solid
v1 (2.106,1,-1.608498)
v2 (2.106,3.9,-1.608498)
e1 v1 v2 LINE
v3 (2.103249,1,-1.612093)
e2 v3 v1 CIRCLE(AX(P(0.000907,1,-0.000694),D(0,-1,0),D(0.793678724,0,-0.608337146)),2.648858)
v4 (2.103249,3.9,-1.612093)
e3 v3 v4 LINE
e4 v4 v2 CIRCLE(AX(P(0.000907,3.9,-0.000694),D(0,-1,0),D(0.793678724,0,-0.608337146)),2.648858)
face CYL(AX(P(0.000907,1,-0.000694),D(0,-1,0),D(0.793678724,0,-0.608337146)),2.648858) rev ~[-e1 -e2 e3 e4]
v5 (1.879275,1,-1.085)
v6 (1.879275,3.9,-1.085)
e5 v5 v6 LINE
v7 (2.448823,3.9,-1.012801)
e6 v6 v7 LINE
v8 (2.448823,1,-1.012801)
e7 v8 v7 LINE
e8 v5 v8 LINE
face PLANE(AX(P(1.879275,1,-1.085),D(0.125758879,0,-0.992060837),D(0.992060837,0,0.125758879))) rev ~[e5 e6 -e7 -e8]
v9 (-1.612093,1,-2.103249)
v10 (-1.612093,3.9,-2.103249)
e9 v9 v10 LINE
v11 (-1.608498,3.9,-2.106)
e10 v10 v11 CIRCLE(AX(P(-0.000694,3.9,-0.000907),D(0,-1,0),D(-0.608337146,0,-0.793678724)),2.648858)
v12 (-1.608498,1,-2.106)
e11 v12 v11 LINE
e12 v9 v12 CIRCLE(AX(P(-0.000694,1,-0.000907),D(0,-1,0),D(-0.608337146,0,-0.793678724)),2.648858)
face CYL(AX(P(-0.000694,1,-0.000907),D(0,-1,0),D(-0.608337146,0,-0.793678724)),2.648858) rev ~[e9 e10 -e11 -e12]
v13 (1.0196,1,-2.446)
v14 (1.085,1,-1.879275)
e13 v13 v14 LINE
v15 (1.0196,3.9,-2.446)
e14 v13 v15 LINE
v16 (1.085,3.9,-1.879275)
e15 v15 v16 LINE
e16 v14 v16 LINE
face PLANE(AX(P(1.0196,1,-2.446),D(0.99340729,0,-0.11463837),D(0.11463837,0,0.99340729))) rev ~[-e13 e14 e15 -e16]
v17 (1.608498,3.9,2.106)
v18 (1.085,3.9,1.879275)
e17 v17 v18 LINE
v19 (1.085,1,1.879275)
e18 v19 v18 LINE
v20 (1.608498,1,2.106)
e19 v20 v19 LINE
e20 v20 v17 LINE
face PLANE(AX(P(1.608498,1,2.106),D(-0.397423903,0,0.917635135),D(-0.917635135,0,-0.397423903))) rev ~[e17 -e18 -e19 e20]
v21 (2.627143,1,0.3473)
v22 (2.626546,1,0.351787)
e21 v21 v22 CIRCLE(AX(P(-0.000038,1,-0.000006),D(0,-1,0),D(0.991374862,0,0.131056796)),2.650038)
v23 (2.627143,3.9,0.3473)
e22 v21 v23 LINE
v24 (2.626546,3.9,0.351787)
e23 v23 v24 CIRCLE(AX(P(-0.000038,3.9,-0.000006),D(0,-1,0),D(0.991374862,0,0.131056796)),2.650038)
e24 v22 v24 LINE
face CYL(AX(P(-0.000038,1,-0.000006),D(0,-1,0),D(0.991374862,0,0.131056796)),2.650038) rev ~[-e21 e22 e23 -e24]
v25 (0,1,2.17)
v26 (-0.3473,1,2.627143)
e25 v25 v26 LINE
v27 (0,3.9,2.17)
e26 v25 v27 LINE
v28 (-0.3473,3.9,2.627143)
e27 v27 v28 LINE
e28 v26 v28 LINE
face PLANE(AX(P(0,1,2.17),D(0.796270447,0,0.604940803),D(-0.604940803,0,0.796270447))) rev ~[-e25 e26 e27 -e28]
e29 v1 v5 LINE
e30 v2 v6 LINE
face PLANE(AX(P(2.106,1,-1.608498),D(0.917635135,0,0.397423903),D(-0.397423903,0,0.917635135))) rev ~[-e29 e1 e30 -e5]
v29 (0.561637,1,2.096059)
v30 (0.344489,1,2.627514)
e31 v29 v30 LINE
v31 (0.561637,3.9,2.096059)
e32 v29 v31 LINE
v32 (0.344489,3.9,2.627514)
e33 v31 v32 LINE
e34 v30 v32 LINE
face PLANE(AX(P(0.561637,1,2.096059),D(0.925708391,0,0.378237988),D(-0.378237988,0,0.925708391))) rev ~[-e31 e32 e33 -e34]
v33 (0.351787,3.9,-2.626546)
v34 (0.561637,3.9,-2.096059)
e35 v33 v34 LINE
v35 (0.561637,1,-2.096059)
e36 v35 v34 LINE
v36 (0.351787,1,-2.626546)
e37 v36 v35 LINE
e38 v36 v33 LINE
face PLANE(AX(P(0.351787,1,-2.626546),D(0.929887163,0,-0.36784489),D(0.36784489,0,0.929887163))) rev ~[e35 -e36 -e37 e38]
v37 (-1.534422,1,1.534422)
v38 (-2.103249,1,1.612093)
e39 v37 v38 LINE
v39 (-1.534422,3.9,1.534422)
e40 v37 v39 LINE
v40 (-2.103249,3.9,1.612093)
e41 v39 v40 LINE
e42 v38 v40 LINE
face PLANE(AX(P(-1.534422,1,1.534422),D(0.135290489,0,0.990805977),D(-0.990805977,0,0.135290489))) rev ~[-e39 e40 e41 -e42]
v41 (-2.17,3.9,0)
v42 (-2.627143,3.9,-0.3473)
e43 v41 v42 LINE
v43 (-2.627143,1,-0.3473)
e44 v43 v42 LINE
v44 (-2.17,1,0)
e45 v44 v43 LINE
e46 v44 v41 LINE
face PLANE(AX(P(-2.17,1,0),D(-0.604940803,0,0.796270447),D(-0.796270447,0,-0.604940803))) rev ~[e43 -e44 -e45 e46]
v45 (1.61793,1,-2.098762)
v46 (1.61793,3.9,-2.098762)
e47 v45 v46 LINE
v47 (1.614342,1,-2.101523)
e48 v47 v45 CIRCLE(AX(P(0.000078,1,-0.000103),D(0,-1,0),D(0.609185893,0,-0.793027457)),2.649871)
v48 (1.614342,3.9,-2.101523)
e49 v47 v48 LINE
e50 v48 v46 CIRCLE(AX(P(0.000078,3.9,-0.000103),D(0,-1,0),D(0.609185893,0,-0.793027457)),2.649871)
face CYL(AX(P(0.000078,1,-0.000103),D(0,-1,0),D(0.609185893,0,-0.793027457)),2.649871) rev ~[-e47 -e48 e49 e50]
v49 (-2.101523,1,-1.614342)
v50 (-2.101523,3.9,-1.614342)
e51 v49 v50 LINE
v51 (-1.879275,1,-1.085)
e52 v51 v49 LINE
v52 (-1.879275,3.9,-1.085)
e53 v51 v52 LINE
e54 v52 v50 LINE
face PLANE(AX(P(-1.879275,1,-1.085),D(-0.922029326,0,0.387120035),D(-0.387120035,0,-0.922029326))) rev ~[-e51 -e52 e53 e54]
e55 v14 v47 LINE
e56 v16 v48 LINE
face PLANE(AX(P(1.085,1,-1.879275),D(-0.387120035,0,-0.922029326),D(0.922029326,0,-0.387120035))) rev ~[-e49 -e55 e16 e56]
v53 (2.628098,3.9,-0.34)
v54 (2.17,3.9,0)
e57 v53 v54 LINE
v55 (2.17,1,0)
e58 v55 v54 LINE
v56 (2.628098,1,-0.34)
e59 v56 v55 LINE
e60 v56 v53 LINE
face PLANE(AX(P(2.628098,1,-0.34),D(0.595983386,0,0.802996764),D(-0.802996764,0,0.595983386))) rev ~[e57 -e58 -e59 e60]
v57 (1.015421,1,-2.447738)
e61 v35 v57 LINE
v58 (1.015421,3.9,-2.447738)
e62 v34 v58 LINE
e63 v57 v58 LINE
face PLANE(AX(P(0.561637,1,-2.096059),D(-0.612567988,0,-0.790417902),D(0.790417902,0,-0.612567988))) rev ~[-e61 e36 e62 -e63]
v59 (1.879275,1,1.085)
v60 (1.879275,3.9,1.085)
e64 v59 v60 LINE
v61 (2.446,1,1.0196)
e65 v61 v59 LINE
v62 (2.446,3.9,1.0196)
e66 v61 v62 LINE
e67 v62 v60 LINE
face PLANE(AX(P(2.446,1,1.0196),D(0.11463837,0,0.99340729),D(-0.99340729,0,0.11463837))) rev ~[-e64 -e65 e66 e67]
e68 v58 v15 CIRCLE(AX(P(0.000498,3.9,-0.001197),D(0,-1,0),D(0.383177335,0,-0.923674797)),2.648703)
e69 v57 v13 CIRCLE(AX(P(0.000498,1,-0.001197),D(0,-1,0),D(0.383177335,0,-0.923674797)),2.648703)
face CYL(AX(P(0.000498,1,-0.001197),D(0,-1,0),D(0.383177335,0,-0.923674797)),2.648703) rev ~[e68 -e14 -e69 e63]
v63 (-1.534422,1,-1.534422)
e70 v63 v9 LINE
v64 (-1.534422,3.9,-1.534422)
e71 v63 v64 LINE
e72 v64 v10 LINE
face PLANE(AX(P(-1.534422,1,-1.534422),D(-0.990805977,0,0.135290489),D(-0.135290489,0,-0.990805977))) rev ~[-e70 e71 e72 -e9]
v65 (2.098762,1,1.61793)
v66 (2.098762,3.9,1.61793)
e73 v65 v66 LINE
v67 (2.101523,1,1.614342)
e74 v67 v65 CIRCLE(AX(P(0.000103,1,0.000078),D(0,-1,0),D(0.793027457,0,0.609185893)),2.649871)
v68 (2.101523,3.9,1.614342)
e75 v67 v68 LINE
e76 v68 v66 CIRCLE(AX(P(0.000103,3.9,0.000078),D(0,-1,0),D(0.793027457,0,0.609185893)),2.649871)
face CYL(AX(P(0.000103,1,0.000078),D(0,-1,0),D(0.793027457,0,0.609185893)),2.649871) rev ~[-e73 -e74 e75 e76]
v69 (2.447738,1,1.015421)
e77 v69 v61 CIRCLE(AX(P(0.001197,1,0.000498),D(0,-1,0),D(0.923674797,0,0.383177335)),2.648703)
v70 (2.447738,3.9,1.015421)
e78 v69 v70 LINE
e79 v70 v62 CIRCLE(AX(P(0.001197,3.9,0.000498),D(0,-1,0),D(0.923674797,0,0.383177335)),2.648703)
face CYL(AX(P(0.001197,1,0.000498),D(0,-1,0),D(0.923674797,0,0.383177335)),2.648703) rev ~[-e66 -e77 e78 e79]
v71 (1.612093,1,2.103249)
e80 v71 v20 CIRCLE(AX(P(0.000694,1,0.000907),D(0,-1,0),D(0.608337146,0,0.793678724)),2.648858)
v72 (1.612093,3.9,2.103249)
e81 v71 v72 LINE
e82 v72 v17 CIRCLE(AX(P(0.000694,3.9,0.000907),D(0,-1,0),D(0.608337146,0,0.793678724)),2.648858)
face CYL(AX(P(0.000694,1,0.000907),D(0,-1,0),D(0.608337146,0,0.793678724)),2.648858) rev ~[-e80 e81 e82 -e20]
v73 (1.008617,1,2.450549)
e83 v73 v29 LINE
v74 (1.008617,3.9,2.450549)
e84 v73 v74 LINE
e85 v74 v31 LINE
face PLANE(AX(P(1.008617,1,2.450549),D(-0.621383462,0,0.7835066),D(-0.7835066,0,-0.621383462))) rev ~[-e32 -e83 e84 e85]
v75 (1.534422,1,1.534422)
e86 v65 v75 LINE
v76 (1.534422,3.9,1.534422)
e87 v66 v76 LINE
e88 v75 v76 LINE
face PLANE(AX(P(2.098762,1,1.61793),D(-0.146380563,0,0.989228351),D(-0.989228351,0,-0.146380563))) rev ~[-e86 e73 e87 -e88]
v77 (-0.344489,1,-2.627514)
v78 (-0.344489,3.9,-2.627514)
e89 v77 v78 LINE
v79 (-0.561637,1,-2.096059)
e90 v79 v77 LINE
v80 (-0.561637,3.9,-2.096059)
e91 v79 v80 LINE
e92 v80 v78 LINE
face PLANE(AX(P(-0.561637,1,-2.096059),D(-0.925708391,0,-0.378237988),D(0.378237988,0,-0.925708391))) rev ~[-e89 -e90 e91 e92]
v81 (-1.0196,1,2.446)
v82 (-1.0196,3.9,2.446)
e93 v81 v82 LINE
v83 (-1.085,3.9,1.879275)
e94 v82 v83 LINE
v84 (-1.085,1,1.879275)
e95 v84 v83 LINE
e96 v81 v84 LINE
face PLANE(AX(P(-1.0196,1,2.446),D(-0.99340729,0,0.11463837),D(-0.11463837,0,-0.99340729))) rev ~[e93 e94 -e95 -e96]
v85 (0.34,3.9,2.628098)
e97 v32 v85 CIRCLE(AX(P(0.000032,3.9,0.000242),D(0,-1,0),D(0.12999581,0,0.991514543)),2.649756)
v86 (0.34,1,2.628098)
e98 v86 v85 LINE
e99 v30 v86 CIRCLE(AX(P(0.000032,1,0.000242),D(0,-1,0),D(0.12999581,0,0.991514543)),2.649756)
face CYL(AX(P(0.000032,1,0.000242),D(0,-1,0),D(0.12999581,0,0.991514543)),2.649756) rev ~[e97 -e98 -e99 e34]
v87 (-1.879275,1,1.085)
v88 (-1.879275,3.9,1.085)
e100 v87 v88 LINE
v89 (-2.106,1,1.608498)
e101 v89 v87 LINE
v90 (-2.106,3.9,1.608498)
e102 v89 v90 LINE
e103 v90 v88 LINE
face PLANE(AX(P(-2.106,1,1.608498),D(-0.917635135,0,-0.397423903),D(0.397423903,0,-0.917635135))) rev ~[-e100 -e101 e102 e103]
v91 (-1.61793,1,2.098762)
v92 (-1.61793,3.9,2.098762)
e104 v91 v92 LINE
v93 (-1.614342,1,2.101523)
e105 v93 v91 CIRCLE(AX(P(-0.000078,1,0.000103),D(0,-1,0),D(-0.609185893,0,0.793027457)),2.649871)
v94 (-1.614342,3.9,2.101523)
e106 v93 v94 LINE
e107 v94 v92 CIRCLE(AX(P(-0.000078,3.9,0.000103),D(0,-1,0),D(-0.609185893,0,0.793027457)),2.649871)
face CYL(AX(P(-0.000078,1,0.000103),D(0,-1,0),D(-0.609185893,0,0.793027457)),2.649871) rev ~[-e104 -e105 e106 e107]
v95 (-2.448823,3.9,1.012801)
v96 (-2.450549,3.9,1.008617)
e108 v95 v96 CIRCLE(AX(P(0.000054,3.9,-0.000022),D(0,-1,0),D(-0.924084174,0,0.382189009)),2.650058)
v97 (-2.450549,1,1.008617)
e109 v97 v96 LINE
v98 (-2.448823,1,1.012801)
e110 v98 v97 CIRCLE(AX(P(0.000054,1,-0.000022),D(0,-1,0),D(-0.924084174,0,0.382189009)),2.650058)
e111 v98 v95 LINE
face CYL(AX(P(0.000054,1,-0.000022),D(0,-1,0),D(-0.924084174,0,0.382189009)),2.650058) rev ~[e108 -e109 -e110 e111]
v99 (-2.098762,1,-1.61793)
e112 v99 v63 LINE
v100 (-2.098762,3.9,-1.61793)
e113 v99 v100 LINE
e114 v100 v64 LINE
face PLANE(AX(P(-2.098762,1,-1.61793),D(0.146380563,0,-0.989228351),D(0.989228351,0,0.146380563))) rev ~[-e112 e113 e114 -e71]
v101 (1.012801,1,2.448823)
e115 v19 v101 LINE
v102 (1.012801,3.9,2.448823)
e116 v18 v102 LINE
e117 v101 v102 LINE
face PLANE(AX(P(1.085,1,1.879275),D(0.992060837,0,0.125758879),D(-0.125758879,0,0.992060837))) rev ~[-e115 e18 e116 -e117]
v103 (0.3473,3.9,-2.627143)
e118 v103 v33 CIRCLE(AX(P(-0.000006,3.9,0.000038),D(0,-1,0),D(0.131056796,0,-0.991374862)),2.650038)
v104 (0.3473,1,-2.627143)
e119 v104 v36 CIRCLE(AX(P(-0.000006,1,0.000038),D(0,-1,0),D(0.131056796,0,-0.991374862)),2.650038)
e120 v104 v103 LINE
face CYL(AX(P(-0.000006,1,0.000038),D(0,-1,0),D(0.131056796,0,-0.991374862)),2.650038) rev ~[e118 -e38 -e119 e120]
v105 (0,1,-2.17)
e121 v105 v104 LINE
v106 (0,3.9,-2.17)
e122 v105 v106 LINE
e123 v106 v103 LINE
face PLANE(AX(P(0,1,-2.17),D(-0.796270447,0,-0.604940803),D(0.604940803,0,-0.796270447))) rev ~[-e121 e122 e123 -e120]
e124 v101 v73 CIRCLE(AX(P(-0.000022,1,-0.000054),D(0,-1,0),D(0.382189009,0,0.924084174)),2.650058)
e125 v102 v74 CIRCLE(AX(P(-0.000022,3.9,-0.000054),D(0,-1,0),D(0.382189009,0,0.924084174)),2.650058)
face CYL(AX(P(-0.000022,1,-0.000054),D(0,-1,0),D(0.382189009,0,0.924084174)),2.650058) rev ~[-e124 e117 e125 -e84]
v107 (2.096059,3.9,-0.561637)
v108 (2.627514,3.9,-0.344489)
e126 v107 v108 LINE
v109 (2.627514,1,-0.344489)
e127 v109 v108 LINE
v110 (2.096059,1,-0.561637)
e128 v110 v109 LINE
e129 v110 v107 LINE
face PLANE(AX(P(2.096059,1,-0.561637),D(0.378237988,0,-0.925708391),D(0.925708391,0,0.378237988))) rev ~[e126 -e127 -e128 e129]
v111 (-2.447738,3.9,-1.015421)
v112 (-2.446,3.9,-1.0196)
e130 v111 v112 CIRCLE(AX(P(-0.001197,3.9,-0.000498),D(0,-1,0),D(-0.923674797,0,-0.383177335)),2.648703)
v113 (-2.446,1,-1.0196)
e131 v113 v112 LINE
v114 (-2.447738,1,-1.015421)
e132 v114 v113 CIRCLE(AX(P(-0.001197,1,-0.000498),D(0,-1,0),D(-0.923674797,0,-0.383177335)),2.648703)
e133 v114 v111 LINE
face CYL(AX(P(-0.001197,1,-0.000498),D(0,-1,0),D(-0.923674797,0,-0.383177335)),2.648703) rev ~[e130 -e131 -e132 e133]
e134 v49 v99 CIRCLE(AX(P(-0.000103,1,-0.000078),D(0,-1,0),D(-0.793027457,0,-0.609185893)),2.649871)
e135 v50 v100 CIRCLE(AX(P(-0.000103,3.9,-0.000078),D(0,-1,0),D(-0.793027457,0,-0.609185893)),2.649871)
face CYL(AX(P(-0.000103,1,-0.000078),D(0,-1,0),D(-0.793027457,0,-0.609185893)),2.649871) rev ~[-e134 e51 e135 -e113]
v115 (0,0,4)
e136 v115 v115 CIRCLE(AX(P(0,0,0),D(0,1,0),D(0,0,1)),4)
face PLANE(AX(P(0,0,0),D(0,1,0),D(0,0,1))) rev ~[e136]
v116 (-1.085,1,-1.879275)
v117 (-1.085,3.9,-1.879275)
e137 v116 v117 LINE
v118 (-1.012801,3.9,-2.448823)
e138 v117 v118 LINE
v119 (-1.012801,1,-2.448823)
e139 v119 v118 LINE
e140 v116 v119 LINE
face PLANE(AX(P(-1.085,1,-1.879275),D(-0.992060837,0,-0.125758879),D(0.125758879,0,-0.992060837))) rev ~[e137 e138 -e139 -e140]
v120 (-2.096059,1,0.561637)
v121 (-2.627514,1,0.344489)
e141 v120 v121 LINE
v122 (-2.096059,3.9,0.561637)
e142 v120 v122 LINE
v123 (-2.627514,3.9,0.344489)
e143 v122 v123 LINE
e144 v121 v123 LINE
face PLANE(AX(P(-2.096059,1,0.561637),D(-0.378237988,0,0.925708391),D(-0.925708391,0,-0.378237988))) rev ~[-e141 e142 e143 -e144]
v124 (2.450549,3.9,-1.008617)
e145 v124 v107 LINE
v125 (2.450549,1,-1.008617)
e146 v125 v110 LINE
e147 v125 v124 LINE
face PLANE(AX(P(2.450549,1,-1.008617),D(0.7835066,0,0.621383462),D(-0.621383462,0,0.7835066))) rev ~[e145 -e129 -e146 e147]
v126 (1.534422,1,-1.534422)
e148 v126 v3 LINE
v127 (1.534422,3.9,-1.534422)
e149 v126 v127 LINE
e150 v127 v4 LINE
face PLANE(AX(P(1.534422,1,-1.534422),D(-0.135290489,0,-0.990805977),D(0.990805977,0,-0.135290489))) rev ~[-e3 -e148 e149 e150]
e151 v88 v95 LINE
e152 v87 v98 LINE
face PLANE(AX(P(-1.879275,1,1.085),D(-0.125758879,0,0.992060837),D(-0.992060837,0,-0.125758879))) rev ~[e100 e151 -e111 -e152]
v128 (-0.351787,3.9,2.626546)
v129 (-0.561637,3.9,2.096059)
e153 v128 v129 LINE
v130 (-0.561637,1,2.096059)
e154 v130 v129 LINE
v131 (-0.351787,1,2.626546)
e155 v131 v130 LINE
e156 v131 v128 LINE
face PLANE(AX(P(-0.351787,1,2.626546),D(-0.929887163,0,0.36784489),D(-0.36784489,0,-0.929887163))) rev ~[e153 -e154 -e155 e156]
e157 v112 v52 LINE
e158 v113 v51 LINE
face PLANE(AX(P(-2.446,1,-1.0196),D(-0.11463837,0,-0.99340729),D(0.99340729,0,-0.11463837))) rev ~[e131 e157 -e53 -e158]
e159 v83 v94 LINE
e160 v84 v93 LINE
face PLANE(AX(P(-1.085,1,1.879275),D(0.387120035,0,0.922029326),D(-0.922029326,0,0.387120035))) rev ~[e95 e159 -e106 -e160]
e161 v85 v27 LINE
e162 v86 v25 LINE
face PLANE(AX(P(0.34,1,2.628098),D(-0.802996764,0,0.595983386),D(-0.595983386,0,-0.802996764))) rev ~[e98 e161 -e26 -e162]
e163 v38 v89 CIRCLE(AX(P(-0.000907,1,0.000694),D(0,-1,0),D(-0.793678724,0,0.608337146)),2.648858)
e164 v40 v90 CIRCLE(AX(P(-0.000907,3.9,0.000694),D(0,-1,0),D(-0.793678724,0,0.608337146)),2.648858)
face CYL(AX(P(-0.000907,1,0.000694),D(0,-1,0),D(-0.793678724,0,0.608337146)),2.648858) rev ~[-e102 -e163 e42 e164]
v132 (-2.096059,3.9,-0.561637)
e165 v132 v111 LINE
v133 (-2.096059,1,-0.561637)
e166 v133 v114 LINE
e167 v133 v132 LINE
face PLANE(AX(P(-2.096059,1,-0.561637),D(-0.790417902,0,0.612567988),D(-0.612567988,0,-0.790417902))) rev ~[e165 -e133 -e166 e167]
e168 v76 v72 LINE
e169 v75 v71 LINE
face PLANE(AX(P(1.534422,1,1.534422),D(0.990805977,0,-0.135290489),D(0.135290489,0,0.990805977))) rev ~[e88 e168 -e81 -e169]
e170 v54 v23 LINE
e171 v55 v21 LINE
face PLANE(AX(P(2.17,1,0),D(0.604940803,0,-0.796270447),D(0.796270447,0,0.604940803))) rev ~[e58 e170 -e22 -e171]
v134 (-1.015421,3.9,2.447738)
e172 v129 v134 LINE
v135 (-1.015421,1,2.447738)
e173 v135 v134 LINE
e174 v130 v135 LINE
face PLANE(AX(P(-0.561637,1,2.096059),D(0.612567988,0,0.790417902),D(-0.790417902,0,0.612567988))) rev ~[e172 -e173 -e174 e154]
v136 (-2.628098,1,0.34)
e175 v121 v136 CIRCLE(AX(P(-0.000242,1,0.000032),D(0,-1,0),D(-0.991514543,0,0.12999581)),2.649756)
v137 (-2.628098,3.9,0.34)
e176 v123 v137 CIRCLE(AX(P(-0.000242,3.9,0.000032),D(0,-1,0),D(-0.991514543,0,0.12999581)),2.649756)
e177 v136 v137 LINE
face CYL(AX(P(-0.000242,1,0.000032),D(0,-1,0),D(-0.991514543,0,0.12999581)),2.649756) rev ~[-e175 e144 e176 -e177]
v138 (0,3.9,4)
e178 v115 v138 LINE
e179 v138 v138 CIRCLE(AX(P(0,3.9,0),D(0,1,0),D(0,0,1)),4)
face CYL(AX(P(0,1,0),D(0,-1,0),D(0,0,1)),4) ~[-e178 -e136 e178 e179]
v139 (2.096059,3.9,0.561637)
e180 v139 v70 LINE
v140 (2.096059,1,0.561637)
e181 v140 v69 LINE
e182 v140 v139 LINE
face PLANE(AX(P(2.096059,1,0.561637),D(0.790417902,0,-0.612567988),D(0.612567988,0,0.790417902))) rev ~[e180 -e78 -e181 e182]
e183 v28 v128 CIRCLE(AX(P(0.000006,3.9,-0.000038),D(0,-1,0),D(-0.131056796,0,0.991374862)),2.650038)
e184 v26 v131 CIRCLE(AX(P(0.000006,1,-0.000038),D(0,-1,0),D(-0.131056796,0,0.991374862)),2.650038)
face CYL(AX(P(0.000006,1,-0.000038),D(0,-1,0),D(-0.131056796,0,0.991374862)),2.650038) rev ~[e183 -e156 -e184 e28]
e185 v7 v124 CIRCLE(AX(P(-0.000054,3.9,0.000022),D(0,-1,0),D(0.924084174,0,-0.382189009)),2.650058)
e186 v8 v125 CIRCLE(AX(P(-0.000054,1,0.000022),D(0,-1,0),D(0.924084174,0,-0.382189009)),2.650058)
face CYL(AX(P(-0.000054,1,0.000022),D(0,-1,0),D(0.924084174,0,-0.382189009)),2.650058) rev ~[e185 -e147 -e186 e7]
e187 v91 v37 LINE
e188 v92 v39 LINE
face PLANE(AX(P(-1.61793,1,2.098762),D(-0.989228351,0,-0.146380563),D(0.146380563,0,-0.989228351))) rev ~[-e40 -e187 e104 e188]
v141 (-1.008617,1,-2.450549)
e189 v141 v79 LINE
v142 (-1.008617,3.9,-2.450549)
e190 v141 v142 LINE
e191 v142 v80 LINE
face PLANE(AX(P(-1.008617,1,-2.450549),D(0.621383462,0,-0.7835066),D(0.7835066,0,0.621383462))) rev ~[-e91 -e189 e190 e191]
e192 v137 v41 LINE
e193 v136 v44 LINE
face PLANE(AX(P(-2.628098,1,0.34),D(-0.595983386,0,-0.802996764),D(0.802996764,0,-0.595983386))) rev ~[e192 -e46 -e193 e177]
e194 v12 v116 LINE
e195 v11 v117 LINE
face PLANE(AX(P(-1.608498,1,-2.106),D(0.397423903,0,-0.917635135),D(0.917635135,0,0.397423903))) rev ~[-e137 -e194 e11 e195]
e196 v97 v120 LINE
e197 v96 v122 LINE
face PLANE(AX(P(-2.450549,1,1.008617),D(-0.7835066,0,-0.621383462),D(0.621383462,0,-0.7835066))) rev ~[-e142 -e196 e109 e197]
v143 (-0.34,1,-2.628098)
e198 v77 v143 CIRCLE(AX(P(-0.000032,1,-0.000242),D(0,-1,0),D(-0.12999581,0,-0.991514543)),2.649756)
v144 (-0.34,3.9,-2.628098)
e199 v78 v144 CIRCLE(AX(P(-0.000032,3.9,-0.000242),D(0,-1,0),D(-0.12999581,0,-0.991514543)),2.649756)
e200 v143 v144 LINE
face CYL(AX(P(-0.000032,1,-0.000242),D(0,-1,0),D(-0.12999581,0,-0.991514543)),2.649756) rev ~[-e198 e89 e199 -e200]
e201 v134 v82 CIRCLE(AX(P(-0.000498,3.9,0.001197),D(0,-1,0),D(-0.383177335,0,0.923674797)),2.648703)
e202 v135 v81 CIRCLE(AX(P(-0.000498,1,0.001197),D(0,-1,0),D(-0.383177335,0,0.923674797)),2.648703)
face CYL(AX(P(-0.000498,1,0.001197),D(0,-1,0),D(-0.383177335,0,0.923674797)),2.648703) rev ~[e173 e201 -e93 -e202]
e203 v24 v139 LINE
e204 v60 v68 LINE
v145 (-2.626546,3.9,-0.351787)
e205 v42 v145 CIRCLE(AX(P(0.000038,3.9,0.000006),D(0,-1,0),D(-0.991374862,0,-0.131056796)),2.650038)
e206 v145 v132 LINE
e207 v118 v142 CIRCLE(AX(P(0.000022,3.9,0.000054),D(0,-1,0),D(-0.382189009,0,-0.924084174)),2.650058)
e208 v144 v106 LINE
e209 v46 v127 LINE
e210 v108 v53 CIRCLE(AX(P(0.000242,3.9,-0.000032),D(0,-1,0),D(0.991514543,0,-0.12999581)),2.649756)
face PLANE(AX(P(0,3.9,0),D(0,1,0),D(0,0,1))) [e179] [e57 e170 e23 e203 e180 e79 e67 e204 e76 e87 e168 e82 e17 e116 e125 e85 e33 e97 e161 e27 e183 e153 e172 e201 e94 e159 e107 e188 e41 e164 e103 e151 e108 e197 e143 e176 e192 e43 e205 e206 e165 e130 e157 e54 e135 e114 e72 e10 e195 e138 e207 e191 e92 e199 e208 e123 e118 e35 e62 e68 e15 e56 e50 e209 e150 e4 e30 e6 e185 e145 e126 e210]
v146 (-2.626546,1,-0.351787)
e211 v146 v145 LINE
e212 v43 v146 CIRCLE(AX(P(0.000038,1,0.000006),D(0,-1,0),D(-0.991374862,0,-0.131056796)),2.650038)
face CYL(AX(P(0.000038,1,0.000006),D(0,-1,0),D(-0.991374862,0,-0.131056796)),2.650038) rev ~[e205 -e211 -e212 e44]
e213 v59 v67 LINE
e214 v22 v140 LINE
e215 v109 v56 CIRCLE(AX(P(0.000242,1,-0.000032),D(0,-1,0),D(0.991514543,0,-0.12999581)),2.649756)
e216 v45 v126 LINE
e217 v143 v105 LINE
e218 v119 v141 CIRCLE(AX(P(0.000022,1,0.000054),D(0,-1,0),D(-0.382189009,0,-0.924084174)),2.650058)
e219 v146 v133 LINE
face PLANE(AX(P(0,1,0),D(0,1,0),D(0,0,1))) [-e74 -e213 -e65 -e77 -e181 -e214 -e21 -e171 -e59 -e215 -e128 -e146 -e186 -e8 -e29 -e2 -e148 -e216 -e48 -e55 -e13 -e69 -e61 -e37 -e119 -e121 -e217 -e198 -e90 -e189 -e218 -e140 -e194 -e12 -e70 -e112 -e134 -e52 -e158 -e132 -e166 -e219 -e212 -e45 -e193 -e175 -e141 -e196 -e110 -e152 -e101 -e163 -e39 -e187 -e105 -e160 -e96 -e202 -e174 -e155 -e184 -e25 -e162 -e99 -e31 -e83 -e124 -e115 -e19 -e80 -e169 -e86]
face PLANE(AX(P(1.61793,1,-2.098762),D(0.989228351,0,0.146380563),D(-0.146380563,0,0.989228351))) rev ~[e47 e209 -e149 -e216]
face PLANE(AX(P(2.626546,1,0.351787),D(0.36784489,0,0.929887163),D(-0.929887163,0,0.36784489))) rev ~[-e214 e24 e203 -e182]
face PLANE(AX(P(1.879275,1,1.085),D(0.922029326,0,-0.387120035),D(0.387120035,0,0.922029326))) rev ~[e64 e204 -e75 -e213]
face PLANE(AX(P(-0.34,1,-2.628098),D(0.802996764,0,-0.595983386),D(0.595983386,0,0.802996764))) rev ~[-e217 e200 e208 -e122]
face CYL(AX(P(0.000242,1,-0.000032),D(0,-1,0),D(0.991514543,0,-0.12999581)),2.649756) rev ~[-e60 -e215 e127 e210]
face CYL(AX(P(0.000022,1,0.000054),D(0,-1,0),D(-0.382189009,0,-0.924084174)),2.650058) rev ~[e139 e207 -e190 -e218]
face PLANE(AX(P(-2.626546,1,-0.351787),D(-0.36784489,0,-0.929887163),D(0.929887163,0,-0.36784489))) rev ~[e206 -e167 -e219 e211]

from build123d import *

# Parameters (mm, degrees)
SKETCH1_R           = 4
BOSS_EXTRUDE7_DEPTH = 1
BOSS_EXTRUDE8_START = 1
SKETCH1_4_R         = 4
BOSS_EXTRUDE8_DEPTH = 2.9


with BuildPart() as part:
    # Sketch1 → Boss-Extrude7 (new body)
    with BuildSketch(Plane(origin=(0, 0, 0), x_dir=(1, 0, 0), z_dir=(0, 1, 0))):
        with Locations(Location((0, 0, 0), (0, 0, 270))):
            Circle(SKETCH1_R)
    extrude(amount=BOSS_EXTRUDE7_DEPTH)

    # Sketch1<4> → Boss-Extrude8 (add)
    with BuildSketch(Plane(origin=(0, 0, 0), x_dir=(1, 0, 0), z_dir=(0, 1, 0)).offset(BOSS_EXTRUDE8_START)):
        with Locations(Location((0, 0, 0), (0, 0, 270))):
            Circle(SKETCH1_4_R)
        with BuildLine():
            Line((-0.34, 2.628098172), (0, 2.17))
            Line((0, 2.17), (0.3473, 2.627143451))
            ThreePointArc((0.3473, 2.627143451), (0.349543667, 2.62684587), (0.351787078, 2.626546373))
            Line((0.351787078, 2.626546373), (0.561637328, 2.096059043))
            Line((0.561637328, 2.096059043), (1.015420799, 2.447737854))
            ThreePointArc((1.015420799, 2.447737854), (1.017510995, 2.44686971), (1.019600449, 2.44599978))
            Line((1.019600449, 2.44599978), (1.085, 1.879275126))
            Line((1.085, 1.879275126), (1.614342348, 2.101522968))
            ThreePointArc((1.614342348, 2.101522968), (1.61613663, 2.100143422), (1.617929733, 2.098762344))
            Line((1.617929733, 2.098762344), (1.534421715, 1.534421715))
            Line((1.534421715, 1.534421715), (2.103249134, 1.612092764))
            ThreePointArc((2.103249134, 1.612092764), (2.104625225, 1.610295831), (2.10599978, 1.608497723))
            Line((2.10599978, 1.608497723), (1.879275126, 1.085))
            Line((1.879275126, 1.085), (2.448822968, 1.012801103))
            ThreePointArc((2.448822968, 1.012801103), (2.449687089, 1.01070924), (2.450549423, 1.00861664))
            Line((2.450549423, 1.00861664), (2.096059043, 0.561637328))
            Line((2.096059043, 0.561637328), (2.627513563, 0.34448872))
            ThreePointArc((2.627513563, 0.34448872), (2.627806826, 0.342244485), (2.628098172, 0.34))
            Line((2.628098172, 0.34), (2.17, 0))
            Line((2.17, 0), (2.627143451, -0.3473))
            ThreePointArc((2.627143451, -0.3473), (2.62684587, -0.349543667), (2.626546373, -0.351787078))
            Line((2.626546373, -0.351787078), (2.096059043, -0.561637328))
            Line((2.096059043, -0.561637328), (2.447737854, -1.015420799))
            ThreePointArc((2.447737854, -1.015420799), (2.44686971, -1.017510995), (2.44599978, -1.019600449))
            Line((2.44599978, -1.019600449), (1.879275126, -1.085))
            Line((1.879275126, -1.085), (2.101522968, -1.614342348))
            ThreePointArc((2.101522968, -1.614342348), (2.100143422, -1.61613663), (2.098762344, -1.617929733))
            Line((2.098762344, -1.617929733), (1.534421715, -1.534421715))
            Line((1.534421715, -1.534421715), (1.612092764, -2.103249134))
            ThreePointArc((1.612092764, -2.103249134), (1.610295831, -2.104625225), (1.608497723, -2.10599978))
            Line((1.608497723, -2.10599978), (1.085, -1.879275126))
            Line((1.085, -1.879275126), (1.012801103, -2.448822968))
            ThreePointArc((1.012801103, -2.448822968), (1.01070924, -2.449687089), (1.00861664, -2.450549423))
            Line((1.00861664, -2.450549423), (0.561637328, -2.096059043))
            Line((0.561637328, -2.096059043), (0.34448872, -2.627513563))
            ThreePointArc((0.34448872, -2.627513563), (0.342244485, -2.627806826), (0.34, -2.628098172))
            Line((0.34, -2.628098172), (0, -2.17))
            Line((0, -2.17), (-0.3473, -2.627143451))
            ThreePointArc((-0.3473, -2.627143451), (-0.349543667, -2.62684587), (-0.351787078, -2.626546373))
            Line((-0.351787078, -2.626546373), (-0.561637328, -2.096059043))
            Line((-0.561637328, -2.096059043), (-1.015420799, -2.447737854))
            ThreePointArc((-1.015420799, -2.447737854), (-1.017510995, -2.44686971), (-1.019600449, -2.44599978))
            Line((-1.019600449, -2.44599978), (-1.085, -1.879275126))
            Line((-1.085, -1.879275126), (-1.614342348, -2.101522968))
            ThreePointArc((-1.614342348, -2.101522968), (-1.61613663, -2.100143422), (-1.617929733, -2.098762344))
            Line((-1.617929733, -2.098762344), (-1.534421715, -1.534421715))
            Line((-1.534421715, -1.534421715), (-2.103249134, -1.612092764))
            ThreePointArc((-2.103249134, -1.612092764), (-2.104625225, -1.610295831), (-2.10599978, -1.608497723))
            Line((-2.10599978, -1.608497723), (-1.879275126, -1.085))
            Line((-1.879275126, -1.085), (-2.448822968, -1.012801103))
            ThreePointArc((-2.448822968, -1.012801103), (-2.449687089, -1.01070924), (-2.450549423, -1.00861664))
            Line((-2.450549423, -1.00861664), (-2.096059043, -0.561637328))
            Line((-2.096059043, -0.561637328), (-2.627513563, -0.34448872))
            ThreePointArc((-2.627513563, -0.34448872), (-2.627806826, -0.342244485), (-2.628098172, -0.34))
            Line((-2.628098172, -0.34), (-2.17, 0))
            Line((-2.17, 0), (-2.627143451, 0.3473))
            ThreePointArc((-2.627143451, 0.3473), (-2.62684587, 0.349543667), (-2.626546373, 0.351787078))
            Line((-2.626546373, 0.351787078), (-2.096059043, 0.561637328))
            Line((-2.096059043, 0.561637328), (-2.447737854, 1.015420799))
            ThreePointArc((-2.447737854, 1.015420799), (-2.44686971, 1.017510995), (-2.44599978, 1.019600449))
            Line((-2.44599978, 1.019600449), (-1.879275126, 1.085))
            Line((-1.879275126, 1.085), (-2.101522968, 1.614342348))
            ThreePointArc((-2.101522968, 1.614342348), (-2.100143422, 1.61613663), (-2.098762344, 1.617929733))
            Line((-2.098762344, 1.617929733), (-1.534421715, 1.534421715))
            Line((-1.534421715, 1.534421715), (-1.612092764, 2.103249134))
            ThreePointArc((-1.612092764, 2.103249134), (-1.610295831, 2.104625225), (-1.608497723, 2.10599978))
            Line((-1.608497723, 2.10599978), (-1.085, 1.879275126))
            Line((-1.085, 1.879275126), (-1.012801103, 2.448822968))
            ThreePointArc((-1.012801103, 2.448822968), (-1.01070924, 2.449687089), (-1.00861664, 2.450549423))
            Line((-1.00861664, 2.450549423), (-0.561637328, 2.096059043))
            Line((-0.561637328, 2.096059043), (-0.34448872, 2.627513563))
            ThreePointArc((-0.34448872, 2.627513563), (-0.342244485, 2.627806826), (-0.34, 2.628098172))
        make_face(mode=Mode.SUBTRACT)
    extrude(amount=BOSS_EXTRUDE8_DEPTH)


solid = part.part
